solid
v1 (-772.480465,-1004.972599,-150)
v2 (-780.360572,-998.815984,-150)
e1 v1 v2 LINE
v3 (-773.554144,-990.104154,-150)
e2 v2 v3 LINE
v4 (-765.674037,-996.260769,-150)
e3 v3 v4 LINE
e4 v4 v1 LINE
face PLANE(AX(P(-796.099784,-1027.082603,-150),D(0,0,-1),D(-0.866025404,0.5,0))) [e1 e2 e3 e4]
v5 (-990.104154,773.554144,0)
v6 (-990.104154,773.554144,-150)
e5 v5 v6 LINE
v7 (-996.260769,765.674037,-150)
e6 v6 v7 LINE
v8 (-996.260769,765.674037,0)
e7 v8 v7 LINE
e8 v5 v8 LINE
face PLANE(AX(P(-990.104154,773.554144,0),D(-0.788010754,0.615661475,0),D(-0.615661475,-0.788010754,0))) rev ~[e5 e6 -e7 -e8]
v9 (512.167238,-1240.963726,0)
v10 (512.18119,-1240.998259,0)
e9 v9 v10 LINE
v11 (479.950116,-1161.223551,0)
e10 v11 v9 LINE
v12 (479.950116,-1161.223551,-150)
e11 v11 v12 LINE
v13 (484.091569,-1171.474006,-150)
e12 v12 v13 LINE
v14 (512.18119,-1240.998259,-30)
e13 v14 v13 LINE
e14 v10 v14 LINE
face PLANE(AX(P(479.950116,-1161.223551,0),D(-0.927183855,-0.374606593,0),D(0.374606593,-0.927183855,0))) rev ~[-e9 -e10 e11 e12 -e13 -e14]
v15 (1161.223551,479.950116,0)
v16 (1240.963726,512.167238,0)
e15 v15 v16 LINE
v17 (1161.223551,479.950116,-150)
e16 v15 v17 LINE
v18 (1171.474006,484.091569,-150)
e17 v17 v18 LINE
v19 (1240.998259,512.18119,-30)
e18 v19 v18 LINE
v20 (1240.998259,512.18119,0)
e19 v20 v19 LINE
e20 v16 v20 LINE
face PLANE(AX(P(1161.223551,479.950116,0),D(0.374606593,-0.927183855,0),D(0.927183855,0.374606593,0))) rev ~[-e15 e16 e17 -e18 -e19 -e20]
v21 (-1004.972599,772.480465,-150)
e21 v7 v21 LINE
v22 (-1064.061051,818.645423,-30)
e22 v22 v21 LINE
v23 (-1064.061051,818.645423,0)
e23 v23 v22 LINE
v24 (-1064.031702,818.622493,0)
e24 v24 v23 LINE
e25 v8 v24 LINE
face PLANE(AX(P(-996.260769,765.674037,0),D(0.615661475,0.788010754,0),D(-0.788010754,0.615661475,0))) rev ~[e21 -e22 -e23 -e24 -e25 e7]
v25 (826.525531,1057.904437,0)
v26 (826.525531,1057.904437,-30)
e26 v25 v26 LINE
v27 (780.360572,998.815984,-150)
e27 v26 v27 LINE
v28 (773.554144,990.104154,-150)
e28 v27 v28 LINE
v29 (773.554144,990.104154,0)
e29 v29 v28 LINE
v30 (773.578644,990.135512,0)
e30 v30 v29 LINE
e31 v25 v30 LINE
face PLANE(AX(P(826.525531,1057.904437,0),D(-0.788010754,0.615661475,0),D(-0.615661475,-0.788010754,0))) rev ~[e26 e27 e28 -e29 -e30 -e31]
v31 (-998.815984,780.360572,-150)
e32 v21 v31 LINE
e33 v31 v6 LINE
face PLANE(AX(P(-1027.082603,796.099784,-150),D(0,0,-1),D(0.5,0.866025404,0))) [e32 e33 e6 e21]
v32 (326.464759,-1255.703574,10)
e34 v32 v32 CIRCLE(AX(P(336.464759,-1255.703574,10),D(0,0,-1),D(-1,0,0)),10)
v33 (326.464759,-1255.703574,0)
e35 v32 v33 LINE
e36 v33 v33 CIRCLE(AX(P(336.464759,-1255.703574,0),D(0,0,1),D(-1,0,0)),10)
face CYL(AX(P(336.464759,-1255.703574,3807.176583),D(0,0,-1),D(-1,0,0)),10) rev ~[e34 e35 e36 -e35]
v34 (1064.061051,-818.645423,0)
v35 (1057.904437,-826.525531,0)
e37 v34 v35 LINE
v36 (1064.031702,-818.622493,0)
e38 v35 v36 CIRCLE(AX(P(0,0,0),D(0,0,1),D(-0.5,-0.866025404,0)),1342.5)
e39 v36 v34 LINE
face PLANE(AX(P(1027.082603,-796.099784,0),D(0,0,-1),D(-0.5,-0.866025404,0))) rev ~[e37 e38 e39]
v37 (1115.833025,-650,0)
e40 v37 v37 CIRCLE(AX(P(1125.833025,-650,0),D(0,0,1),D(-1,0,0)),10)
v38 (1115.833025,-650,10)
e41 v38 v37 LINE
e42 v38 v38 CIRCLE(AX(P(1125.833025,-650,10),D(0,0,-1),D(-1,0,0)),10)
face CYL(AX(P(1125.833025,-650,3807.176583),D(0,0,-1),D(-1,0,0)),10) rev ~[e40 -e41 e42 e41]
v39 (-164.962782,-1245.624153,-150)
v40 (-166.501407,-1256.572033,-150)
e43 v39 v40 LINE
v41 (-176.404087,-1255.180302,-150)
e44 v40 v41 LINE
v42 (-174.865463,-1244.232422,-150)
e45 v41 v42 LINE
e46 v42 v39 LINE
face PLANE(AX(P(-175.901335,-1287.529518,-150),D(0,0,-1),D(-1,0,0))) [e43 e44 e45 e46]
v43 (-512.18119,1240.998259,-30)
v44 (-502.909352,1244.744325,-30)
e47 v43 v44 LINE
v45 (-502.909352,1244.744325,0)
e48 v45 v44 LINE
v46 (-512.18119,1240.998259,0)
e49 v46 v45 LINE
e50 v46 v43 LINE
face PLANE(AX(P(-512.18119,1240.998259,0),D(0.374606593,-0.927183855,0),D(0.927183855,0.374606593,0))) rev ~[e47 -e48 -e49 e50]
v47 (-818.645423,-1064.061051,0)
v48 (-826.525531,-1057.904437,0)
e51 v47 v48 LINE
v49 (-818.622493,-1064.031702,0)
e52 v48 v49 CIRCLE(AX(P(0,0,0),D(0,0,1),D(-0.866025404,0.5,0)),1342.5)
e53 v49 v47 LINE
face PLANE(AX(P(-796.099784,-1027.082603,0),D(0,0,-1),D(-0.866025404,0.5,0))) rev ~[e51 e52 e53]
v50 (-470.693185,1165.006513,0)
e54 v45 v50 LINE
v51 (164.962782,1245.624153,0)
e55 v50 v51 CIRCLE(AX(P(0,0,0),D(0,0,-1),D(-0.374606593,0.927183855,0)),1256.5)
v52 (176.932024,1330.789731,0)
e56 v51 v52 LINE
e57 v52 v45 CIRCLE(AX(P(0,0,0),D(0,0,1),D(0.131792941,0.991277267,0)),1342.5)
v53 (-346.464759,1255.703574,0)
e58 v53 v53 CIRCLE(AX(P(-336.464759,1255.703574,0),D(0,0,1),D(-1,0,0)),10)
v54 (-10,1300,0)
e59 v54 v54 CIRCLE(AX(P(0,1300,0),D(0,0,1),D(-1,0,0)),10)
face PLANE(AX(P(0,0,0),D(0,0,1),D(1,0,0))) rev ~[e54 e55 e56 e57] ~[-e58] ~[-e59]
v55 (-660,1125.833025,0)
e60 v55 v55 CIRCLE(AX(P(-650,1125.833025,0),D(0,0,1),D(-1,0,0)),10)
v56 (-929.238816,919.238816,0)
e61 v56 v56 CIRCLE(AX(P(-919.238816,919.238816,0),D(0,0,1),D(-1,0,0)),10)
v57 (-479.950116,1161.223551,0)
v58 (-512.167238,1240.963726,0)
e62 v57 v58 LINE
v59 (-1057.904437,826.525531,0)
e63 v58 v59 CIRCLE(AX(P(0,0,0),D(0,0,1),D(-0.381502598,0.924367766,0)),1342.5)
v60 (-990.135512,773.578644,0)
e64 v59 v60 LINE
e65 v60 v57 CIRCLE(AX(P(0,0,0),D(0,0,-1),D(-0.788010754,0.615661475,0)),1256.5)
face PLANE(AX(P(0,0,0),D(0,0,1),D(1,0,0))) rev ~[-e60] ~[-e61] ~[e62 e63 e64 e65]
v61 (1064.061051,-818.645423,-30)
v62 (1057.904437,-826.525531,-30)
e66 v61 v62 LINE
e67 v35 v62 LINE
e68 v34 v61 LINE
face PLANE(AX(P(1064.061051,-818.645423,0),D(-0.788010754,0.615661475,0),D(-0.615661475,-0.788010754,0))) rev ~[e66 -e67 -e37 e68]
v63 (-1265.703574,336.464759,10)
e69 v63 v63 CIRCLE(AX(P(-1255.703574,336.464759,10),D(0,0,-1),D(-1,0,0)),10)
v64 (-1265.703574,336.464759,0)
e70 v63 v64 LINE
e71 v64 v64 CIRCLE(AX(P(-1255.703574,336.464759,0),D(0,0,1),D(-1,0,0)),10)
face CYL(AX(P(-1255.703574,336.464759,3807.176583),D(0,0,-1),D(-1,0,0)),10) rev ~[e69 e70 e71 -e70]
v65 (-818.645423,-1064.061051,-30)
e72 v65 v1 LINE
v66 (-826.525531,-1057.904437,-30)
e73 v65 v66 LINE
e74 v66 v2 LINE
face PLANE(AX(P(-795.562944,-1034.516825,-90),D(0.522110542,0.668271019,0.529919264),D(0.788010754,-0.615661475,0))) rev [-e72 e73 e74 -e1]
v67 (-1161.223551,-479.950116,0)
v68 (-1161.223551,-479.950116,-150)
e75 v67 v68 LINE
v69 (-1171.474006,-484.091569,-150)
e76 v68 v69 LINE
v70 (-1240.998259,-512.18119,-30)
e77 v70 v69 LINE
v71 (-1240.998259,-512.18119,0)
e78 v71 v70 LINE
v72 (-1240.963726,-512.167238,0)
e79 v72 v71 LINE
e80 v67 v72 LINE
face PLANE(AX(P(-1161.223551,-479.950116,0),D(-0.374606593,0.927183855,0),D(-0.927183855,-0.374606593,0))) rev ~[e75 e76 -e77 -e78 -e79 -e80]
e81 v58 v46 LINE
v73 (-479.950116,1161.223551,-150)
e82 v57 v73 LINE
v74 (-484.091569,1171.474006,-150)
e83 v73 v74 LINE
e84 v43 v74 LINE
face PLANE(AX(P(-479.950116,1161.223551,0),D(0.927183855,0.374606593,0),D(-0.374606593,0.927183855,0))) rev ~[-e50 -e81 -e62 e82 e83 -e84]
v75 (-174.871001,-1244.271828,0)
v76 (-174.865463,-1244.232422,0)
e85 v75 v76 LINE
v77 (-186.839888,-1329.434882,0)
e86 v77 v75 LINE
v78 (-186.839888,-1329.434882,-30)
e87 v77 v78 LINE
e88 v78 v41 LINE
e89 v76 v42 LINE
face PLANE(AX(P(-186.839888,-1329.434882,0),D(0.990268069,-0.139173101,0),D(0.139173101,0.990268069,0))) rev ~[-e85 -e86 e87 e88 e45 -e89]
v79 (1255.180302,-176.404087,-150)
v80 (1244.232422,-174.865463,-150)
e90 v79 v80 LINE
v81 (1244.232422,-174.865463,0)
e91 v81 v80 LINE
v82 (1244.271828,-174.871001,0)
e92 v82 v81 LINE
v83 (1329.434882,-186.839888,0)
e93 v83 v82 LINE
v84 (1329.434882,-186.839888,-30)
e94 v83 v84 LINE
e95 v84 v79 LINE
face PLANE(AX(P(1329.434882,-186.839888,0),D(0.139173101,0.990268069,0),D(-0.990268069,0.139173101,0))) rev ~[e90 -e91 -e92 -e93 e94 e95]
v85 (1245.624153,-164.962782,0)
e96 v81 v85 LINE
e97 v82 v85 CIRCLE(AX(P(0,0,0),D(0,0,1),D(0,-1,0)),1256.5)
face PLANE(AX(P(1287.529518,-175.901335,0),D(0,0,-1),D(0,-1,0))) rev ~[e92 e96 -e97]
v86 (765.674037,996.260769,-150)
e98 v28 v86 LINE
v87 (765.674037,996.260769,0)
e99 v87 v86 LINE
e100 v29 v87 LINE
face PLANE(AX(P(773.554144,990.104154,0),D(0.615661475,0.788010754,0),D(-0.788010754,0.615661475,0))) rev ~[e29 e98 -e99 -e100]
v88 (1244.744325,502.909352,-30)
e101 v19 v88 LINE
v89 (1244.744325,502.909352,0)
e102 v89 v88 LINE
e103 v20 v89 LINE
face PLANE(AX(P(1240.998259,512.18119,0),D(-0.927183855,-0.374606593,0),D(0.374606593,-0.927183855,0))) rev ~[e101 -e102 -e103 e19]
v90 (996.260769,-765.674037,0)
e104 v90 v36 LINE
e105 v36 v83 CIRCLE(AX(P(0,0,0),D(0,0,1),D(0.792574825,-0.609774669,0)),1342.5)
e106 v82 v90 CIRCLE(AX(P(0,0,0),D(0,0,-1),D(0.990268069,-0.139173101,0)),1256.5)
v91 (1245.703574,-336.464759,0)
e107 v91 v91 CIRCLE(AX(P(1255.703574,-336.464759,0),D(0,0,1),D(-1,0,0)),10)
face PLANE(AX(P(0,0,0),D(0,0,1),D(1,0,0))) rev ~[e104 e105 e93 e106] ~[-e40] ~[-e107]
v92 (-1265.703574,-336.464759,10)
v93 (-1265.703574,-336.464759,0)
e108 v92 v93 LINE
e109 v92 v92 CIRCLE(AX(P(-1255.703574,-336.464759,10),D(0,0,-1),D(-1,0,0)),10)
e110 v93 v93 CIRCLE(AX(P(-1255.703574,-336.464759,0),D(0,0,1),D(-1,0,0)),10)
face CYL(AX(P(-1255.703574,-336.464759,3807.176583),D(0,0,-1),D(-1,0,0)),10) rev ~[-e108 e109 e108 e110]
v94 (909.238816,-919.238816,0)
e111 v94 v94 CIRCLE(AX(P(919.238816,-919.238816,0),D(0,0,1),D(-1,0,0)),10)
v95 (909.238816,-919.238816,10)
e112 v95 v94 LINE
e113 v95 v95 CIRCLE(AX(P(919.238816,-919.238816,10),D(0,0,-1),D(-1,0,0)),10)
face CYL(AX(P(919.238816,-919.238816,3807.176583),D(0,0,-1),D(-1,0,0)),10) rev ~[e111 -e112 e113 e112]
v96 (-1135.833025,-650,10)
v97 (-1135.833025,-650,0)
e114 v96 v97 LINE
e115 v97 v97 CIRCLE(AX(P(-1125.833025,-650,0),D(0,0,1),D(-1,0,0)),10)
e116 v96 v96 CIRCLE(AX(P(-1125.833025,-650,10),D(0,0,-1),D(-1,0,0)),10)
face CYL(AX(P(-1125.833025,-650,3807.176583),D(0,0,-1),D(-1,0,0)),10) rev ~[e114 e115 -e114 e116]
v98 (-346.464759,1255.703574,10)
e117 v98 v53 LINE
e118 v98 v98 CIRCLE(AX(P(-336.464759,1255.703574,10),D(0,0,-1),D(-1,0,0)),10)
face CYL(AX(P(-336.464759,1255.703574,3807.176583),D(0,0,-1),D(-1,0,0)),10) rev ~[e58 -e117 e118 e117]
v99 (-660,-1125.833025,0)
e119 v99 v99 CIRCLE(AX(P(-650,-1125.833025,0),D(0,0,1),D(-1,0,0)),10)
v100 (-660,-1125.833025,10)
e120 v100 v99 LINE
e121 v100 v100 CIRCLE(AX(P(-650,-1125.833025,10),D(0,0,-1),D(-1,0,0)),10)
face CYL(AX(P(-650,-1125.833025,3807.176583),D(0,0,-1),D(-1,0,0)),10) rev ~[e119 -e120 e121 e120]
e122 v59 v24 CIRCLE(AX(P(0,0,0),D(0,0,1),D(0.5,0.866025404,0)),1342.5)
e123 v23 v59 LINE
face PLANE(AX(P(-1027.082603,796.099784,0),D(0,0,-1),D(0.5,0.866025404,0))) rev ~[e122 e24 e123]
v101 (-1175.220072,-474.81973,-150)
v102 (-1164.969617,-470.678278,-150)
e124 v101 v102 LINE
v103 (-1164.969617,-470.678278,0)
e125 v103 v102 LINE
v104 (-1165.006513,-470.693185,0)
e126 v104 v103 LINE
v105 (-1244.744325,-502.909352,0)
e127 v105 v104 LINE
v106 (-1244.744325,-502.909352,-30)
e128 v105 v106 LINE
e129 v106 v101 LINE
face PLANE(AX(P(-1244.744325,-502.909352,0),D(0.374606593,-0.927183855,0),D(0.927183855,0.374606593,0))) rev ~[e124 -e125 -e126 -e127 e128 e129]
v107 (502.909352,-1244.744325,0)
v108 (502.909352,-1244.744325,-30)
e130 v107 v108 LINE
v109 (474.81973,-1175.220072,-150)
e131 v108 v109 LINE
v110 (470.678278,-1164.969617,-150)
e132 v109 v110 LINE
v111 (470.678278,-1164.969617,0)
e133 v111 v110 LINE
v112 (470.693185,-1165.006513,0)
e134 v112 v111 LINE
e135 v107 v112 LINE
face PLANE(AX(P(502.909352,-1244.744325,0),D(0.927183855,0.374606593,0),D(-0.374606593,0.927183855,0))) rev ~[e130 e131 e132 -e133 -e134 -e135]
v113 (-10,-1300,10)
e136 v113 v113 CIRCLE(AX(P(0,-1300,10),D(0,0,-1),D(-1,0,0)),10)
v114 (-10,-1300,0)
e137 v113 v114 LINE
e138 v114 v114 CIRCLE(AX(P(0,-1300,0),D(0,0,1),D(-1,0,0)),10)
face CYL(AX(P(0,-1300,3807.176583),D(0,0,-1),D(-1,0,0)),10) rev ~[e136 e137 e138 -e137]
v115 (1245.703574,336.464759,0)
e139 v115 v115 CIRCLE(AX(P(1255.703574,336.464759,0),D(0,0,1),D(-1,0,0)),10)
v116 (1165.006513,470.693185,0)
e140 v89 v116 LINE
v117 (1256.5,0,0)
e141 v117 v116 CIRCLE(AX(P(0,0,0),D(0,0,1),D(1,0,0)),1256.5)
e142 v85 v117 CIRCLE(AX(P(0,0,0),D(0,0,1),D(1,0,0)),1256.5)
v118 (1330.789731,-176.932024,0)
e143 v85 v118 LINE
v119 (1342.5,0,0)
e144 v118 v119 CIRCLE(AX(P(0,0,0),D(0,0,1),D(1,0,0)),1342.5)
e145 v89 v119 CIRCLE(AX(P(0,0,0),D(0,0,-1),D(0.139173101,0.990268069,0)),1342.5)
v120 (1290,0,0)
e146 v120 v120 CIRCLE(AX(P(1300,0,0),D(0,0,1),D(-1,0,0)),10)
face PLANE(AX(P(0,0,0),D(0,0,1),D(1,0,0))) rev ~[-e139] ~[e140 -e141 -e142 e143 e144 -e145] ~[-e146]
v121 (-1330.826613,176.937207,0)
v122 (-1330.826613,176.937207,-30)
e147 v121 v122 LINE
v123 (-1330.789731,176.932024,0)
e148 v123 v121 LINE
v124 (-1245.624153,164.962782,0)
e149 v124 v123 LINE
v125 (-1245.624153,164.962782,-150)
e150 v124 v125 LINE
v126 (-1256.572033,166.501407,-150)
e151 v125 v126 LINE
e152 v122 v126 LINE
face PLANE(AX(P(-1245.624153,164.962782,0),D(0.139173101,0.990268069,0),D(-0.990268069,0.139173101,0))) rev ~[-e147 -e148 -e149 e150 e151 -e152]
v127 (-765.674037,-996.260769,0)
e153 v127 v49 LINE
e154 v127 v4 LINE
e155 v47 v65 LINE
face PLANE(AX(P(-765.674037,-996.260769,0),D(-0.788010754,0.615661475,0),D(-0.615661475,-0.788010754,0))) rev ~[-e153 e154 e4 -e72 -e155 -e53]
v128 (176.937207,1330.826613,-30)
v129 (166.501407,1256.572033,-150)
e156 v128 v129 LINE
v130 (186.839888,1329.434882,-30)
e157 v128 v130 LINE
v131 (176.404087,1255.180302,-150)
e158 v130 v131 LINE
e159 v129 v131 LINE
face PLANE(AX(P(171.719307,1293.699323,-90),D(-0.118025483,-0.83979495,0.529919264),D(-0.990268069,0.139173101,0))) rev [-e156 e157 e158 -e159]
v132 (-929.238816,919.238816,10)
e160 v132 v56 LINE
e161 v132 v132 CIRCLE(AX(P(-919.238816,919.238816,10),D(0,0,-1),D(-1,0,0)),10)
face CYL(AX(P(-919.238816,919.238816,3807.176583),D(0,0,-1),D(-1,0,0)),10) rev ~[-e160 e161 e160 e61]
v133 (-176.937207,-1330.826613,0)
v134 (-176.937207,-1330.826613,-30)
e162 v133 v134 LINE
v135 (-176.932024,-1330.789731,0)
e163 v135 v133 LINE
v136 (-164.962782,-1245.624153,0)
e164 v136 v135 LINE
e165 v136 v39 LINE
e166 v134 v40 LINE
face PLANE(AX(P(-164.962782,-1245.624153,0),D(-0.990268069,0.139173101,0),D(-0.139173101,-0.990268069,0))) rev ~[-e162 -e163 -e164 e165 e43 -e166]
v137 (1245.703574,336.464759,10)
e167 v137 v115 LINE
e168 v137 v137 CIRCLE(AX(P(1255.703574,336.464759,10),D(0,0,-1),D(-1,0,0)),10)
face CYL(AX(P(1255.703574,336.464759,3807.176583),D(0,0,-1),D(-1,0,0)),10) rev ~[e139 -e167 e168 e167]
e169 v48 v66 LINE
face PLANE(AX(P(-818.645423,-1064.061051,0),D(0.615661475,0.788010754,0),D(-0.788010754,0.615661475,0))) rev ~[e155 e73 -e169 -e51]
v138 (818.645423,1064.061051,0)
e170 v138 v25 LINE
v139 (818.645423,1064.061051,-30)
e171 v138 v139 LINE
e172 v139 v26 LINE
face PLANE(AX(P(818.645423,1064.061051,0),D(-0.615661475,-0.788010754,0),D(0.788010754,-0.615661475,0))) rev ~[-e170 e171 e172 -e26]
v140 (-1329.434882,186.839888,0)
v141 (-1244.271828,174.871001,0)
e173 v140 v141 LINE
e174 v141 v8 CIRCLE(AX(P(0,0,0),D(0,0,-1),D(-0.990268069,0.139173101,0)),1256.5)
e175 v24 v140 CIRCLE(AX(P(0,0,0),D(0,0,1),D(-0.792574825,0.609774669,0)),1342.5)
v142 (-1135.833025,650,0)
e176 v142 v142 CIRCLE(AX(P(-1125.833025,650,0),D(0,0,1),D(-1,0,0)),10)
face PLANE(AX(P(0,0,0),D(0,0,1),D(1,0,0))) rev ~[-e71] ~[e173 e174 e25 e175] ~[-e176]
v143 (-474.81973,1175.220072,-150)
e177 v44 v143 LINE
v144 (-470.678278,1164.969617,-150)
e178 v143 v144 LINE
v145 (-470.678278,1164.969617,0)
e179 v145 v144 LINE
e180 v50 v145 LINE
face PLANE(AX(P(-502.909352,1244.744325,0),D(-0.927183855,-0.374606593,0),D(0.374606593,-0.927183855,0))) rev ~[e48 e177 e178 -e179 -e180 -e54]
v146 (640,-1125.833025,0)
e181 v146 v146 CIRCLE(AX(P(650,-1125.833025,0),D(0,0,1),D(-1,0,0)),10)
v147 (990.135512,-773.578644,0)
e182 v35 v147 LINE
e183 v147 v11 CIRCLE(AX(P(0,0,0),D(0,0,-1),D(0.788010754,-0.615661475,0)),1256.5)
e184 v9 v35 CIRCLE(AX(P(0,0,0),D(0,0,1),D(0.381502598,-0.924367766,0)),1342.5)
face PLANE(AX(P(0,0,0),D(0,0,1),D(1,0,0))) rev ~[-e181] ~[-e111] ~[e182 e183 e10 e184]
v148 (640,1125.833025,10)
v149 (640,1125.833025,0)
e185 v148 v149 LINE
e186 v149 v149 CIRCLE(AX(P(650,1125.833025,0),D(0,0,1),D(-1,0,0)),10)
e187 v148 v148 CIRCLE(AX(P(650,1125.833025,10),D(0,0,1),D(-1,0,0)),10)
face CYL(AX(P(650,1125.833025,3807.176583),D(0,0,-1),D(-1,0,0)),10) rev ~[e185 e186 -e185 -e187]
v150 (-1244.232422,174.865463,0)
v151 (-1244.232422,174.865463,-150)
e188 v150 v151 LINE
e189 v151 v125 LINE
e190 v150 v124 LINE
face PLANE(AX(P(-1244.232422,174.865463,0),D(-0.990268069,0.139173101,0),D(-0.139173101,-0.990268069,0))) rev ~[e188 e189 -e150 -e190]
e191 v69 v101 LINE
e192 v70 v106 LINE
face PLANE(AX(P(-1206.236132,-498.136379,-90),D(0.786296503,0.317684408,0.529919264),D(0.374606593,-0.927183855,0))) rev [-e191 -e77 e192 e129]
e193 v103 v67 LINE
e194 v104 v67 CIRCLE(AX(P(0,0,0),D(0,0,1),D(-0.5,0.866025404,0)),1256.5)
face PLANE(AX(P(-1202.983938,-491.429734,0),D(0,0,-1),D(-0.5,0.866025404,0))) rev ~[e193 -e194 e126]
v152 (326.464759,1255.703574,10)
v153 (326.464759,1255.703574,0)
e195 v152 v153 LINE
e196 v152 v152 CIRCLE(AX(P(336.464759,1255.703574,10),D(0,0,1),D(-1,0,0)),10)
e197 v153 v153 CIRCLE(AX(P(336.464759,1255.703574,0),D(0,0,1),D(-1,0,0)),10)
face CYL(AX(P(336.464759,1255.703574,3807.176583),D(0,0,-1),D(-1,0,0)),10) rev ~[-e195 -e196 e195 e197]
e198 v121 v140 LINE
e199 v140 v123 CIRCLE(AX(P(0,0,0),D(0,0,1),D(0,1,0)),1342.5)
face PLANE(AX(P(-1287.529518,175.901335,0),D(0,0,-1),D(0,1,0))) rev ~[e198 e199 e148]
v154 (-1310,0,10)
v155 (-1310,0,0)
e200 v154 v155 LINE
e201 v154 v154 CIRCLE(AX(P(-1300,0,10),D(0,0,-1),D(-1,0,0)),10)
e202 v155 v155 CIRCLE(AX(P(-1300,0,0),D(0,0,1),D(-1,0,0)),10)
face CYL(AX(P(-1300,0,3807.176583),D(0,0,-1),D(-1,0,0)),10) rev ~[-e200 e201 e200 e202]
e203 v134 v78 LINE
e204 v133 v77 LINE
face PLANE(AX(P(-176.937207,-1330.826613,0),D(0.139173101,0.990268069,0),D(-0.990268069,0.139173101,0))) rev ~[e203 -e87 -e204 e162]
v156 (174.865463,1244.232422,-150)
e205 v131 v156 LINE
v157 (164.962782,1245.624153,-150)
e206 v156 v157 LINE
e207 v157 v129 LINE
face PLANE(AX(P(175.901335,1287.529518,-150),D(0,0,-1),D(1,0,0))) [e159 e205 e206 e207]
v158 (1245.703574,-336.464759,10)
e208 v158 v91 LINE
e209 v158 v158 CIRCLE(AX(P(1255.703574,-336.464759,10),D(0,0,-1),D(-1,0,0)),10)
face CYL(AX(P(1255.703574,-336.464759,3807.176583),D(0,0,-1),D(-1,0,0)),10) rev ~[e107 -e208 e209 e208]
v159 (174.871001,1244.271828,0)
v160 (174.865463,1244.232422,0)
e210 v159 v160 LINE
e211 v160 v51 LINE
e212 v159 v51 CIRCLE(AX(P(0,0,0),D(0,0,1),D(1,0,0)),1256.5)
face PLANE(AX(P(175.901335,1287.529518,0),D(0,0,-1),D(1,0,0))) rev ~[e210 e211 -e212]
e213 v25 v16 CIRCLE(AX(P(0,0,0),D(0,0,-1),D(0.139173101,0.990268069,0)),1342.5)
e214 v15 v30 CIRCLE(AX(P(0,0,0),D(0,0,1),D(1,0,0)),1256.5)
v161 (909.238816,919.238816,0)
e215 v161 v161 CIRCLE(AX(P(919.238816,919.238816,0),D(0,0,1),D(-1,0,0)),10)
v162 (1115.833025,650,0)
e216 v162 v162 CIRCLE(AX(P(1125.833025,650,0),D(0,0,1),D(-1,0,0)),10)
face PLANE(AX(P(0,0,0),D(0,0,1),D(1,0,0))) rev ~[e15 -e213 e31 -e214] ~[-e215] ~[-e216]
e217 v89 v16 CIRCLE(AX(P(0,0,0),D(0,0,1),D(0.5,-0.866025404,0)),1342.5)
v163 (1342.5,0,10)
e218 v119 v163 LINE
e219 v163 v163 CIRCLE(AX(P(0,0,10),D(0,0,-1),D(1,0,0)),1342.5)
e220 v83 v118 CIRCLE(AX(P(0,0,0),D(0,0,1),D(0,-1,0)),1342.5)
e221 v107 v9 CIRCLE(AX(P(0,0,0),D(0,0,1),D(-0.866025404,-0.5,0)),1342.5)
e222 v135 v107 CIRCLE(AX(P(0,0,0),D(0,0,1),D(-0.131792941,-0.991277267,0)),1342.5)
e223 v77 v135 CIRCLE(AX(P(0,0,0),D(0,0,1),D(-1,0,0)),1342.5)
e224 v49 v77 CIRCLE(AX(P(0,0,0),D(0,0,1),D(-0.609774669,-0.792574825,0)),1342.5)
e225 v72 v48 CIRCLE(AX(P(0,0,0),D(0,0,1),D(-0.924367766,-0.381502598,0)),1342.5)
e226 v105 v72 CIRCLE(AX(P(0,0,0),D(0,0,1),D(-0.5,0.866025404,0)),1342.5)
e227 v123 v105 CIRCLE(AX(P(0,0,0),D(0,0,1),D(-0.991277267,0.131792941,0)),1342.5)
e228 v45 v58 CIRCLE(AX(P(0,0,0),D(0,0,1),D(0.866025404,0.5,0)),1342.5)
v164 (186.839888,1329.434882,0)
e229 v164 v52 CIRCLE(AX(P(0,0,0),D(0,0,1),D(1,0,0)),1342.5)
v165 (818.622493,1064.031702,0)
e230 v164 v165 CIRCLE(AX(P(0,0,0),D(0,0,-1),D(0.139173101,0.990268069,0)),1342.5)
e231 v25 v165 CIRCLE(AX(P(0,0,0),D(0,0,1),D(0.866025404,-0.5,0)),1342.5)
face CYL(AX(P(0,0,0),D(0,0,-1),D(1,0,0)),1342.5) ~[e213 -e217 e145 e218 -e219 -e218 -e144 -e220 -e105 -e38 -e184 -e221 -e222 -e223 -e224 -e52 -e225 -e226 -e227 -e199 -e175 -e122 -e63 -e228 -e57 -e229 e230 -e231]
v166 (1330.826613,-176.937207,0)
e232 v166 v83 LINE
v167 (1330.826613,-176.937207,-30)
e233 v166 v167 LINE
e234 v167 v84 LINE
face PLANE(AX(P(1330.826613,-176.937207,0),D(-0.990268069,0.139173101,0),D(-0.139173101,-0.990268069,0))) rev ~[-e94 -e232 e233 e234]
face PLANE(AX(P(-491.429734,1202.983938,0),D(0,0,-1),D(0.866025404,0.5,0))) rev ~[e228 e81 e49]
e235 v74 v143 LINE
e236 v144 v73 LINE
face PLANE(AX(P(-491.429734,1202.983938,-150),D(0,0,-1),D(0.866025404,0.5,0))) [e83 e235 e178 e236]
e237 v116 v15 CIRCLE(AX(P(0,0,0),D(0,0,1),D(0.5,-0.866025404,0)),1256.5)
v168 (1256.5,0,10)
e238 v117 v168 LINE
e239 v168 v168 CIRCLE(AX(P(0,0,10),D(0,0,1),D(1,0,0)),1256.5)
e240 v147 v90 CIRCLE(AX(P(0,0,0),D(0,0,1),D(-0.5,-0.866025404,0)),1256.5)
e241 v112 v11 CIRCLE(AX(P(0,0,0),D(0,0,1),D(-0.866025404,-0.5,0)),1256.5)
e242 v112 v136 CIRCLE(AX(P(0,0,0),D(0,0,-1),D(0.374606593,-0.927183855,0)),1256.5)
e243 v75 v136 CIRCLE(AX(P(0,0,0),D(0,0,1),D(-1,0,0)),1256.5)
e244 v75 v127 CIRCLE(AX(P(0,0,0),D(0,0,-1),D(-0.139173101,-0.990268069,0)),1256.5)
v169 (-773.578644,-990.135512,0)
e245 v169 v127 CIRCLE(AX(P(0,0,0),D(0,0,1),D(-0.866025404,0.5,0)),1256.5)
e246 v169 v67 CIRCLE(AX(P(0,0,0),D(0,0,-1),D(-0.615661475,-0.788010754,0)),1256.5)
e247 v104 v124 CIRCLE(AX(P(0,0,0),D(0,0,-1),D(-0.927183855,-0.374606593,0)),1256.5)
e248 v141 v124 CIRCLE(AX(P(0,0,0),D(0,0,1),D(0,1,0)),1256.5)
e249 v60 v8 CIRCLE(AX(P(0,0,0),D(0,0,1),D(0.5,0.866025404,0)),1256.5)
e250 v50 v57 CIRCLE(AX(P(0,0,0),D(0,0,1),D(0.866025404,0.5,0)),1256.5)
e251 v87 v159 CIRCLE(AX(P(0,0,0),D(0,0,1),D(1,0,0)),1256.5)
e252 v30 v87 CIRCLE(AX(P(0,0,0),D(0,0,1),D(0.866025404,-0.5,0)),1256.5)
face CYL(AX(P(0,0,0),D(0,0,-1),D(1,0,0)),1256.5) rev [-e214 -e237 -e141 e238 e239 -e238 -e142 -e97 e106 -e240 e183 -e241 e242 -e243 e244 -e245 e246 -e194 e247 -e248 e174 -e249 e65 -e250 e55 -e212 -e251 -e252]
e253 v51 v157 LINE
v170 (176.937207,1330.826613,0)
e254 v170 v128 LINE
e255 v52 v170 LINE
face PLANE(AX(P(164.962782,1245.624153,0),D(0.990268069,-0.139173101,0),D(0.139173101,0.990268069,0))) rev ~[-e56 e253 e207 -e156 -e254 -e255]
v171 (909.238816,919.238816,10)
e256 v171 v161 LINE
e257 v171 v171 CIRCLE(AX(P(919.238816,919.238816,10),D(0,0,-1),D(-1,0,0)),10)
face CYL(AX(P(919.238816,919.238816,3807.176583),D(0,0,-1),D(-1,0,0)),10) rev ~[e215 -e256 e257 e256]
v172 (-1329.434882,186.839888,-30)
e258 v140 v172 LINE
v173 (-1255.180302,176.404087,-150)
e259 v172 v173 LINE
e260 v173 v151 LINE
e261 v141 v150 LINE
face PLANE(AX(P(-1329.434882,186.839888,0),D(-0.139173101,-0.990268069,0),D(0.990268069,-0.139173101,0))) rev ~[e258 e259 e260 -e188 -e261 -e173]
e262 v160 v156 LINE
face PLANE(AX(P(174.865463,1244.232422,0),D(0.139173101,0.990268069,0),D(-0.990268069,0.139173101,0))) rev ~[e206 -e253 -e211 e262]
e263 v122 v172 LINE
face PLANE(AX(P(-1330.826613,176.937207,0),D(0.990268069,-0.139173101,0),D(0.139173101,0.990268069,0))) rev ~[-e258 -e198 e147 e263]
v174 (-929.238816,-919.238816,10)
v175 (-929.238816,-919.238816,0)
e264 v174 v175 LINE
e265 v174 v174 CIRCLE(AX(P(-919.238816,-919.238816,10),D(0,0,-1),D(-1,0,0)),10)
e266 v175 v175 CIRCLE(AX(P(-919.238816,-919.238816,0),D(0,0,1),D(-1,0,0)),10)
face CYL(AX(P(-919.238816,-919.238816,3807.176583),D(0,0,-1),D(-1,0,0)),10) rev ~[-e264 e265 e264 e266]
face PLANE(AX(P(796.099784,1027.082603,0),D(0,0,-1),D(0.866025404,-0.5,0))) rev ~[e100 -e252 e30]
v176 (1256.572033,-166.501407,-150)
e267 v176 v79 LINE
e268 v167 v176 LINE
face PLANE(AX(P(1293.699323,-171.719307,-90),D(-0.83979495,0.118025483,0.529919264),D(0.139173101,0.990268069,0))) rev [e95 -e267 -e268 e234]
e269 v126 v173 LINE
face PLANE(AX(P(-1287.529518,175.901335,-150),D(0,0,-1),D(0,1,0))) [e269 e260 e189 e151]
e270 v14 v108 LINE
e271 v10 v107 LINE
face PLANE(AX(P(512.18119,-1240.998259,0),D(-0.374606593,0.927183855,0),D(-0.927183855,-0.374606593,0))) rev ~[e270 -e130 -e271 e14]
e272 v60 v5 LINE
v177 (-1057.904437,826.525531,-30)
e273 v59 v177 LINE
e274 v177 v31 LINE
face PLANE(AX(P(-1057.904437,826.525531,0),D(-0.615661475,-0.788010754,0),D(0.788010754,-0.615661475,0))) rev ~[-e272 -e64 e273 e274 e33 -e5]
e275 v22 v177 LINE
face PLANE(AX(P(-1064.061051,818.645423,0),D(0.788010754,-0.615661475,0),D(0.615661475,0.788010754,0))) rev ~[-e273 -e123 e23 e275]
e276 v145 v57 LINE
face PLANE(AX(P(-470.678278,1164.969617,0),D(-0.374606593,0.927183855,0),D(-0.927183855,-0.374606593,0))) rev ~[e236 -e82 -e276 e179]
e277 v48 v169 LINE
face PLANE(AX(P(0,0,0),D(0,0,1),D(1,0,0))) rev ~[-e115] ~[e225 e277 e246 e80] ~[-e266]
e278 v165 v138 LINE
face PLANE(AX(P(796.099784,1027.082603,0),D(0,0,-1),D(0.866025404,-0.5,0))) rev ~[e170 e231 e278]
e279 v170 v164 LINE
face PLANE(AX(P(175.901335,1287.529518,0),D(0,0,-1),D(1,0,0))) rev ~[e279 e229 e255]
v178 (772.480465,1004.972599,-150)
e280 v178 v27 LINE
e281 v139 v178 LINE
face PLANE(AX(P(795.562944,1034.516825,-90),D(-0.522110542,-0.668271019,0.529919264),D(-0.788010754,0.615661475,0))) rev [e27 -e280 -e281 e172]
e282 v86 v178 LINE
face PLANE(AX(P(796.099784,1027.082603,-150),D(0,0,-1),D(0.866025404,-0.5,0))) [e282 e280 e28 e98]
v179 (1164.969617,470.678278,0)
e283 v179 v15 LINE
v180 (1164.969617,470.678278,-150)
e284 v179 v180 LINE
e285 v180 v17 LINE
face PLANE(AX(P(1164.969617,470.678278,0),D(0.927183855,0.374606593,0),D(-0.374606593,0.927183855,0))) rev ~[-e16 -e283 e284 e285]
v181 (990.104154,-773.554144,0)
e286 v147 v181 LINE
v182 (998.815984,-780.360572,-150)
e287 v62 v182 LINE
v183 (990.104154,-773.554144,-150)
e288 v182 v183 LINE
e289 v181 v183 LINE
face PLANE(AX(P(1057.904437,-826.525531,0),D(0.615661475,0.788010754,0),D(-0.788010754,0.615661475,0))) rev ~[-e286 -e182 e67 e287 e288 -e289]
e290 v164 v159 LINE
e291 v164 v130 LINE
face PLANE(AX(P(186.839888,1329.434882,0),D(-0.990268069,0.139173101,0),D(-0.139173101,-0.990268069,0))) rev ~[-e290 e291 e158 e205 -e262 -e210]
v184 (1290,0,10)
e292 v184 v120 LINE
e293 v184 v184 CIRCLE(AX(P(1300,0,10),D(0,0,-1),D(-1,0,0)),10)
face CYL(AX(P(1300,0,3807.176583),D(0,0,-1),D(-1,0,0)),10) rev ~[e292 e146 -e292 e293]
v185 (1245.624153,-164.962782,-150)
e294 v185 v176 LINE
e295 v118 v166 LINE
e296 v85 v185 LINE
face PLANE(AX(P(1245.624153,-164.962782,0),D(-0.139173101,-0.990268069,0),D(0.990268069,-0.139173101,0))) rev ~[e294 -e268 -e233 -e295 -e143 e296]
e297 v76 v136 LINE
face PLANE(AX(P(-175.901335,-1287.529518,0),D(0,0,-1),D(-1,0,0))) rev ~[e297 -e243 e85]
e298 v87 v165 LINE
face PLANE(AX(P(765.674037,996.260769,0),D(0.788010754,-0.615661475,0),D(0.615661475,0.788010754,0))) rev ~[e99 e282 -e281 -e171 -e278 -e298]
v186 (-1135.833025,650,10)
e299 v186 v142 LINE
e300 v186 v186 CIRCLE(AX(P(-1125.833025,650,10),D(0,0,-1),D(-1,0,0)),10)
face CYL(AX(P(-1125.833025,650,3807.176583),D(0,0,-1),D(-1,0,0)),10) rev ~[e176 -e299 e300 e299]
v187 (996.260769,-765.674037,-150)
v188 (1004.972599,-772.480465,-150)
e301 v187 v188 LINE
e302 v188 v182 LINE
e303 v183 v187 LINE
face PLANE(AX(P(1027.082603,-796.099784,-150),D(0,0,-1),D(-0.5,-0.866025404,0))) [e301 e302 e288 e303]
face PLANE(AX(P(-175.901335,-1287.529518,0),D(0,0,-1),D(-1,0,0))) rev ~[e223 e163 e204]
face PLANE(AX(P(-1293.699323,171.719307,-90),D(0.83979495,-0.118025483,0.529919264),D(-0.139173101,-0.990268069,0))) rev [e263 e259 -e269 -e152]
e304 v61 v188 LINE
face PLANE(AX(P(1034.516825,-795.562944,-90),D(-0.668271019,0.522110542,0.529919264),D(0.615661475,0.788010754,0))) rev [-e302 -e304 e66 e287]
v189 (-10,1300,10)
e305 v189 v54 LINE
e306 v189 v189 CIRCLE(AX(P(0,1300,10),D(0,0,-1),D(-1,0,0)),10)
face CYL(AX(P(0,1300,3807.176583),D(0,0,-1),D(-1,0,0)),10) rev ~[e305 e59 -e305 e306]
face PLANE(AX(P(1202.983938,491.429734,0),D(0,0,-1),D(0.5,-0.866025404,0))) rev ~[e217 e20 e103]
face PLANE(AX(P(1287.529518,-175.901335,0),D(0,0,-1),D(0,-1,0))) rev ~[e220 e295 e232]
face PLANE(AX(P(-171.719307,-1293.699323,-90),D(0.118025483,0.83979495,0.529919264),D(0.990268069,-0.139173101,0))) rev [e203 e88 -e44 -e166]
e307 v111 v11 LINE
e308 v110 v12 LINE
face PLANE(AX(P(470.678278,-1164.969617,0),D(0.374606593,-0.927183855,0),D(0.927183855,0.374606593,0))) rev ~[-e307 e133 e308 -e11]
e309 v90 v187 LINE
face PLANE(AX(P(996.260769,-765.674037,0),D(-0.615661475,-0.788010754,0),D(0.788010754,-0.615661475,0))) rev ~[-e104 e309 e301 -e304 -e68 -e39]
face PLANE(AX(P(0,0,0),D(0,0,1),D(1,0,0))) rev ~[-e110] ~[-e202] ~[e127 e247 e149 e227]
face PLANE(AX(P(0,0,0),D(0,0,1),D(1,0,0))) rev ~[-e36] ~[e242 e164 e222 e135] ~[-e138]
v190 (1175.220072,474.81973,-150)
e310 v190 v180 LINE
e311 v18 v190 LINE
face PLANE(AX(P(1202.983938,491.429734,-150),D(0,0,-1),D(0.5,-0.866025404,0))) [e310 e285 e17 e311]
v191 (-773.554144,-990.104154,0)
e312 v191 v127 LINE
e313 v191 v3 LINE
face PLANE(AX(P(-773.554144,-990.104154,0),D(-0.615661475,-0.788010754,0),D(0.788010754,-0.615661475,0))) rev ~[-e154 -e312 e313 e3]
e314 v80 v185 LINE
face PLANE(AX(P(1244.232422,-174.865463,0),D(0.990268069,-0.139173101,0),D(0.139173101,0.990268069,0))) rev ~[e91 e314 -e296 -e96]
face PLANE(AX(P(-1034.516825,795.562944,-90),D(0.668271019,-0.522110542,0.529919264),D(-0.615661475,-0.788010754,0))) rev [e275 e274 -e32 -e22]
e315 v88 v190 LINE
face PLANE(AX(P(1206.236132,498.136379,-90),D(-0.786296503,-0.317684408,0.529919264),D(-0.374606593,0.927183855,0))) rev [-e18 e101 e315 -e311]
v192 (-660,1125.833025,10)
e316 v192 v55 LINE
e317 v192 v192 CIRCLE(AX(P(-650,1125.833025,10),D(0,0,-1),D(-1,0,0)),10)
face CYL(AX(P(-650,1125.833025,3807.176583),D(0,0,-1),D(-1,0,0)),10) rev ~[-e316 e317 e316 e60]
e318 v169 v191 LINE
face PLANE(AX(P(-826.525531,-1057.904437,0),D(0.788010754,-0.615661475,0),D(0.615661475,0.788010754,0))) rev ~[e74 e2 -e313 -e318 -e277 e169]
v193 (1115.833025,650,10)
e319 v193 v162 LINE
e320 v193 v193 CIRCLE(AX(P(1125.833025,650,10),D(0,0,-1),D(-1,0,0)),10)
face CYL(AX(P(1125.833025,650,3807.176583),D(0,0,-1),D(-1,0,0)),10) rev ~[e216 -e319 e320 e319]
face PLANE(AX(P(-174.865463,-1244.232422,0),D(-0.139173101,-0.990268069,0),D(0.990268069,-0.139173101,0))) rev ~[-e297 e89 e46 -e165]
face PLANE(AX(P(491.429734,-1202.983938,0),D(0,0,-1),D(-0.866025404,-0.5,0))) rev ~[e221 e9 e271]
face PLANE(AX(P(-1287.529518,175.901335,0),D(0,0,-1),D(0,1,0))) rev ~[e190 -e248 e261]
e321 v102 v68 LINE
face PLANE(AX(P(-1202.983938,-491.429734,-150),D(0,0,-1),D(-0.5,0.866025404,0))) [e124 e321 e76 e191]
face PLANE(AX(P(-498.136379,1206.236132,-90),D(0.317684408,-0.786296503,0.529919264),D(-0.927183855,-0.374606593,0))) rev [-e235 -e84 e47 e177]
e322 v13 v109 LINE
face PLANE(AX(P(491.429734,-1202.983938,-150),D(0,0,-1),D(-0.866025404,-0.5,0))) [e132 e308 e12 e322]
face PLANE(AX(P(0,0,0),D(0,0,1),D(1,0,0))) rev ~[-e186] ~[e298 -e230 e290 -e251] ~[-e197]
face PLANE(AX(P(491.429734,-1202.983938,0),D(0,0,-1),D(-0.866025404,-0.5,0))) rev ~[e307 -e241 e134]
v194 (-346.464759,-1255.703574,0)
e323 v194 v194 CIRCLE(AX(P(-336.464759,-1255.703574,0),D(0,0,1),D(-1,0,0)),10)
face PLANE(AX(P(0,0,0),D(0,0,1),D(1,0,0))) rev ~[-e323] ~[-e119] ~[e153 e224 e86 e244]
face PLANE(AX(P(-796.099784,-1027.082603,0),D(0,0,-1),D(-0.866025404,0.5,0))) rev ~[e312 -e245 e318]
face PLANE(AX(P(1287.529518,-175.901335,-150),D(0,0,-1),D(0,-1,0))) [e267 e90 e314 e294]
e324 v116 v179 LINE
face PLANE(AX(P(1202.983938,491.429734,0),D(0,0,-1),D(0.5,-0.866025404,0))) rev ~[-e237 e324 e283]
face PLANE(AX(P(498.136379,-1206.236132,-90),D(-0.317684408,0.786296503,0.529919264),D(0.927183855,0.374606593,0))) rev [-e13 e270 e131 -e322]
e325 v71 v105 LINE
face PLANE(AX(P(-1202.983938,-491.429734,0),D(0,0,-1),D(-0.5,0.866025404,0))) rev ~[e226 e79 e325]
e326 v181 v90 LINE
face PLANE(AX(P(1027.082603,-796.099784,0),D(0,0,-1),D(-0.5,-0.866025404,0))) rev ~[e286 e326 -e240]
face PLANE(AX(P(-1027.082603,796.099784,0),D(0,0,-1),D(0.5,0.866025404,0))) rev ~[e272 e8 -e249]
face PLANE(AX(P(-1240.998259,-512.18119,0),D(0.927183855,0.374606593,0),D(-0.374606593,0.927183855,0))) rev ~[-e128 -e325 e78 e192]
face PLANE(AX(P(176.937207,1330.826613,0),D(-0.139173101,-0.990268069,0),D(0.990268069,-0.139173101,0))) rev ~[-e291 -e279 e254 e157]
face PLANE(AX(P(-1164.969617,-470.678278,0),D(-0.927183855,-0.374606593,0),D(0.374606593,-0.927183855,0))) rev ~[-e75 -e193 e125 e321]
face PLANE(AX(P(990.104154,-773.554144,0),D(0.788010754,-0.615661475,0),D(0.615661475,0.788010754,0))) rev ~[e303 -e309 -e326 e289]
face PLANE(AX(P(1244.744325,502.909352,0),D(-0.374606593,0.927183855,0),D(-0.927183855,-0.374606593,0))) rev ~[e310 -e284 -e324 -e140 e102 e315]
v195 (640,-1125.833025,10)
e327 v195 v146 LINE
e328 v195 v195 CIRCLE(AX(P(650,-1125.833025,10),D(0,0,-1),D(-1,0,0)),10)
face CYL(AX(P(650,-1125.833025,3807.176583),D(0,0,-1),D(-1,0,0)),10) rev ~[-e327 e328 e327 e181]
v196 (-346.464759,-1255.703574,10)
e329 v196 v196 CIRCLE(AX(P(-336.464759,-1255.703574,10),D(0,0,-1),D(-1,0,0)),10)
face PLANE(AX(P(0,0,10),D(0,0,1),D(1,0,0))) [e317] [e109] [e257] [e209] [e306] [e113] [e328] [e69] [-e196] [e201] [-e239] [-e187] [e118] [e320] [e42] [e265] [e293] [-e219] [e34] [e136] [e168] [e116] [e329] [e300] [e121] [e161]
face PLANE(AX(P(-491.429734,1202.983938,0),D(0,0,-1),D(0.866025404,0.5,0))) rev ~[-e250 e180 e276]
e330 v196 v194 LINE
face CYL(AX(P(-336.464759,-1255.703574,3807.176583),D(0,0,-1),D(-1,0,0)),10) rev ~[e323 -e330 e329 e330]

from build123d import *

# Parameters (mm, degrees)
F0_R     = 1342.5
F0_R_2   = 1256.5
F1_DEPTH = 10
F3_D     = 20
F5_DEPTH = 150
F6_SIZE2 = 74.9843222291
F6_SIZE  = 120
F7_COUNT = 12


with BuildPart() as f1:
    # F0 (on Top) → F1 (new body)
    with BuildSketch(Plane.XY):
        Circle(F0_R)
        Circle(F0_R_2, mode=Mode.SUBTRACT)
    extrude(amount=F1_DEPTH)

    # F3 (through all)
    with Locations(Plane.XY.offset(10)):
        with Locations((0, 1300), (-336.4647586333, 1255.7035741758), (-650, 1125.8330249198), (-919.2388155425, 919.2388155425), (-1125.8330249198, 650), (336.4647586333, 1255.7035741758), (650, 1125.8330249198), (919.2388155425, 919.2388155425), (1125.8330249198, 650), (1255.7035741758, 336.4647586333), (1300, 0), (1255.7035741758, -336.4647586333), (1125.8330249198, -650), (919.2388155425, -919.2388155425), (650, -1125.8330249198), (336.4647586333, -1255.7035741758), (0, -1300), (-336.4647586333, -1255.7035741758), (-650, -1125.8330249198), (-919.2388155425, -919.2388155425), (-1125.8330249198, -650), (-1255.7035741758, -336.4647586333), (-1300, 0), (-1255.7035741758, 336.4647586333)):
            Hole(F3_D / 2)

    # F4 (on face) → F5 (join)
    with BuildSketch(Plane(origin=(0, 0, 0), x_dir=(1, 0, 0), z_dir=(0, 0, -1))):
        Polygon((176.9372073515, -1330.8266132952), (186.8398880389, -1329.4348822856), (174.8654631428, -1244.2324219373), (164.9627824554, -1245.6241529469), align=None)
    extrude(amount=F5_DEPTH)

    # F6
    f6_edges = [f1.edges().sort_by_distance(p)[0] for p in [
        (181.888548, 1330.130748, -150),
    ]]
    f6_side = f1.faces().sort_by_distance((181.888548, 1330.130748, -75))[0]
    chamfer(f6_edges, length=F6_SIZE, length2=F6_SIZE2, reference=f6_side)

    # F7: F1 ×12 about axis
    f7_axis = Axis((0, 0, 10), (0, 0, 1))


with BuildPart() as f1_1:
    add(f1.part)
    for i in range(1, F7_COUNT):
        add(f1.part.rotate(f7_axis, i * 360 / F7_COUNT))


solid = f1_1.part
